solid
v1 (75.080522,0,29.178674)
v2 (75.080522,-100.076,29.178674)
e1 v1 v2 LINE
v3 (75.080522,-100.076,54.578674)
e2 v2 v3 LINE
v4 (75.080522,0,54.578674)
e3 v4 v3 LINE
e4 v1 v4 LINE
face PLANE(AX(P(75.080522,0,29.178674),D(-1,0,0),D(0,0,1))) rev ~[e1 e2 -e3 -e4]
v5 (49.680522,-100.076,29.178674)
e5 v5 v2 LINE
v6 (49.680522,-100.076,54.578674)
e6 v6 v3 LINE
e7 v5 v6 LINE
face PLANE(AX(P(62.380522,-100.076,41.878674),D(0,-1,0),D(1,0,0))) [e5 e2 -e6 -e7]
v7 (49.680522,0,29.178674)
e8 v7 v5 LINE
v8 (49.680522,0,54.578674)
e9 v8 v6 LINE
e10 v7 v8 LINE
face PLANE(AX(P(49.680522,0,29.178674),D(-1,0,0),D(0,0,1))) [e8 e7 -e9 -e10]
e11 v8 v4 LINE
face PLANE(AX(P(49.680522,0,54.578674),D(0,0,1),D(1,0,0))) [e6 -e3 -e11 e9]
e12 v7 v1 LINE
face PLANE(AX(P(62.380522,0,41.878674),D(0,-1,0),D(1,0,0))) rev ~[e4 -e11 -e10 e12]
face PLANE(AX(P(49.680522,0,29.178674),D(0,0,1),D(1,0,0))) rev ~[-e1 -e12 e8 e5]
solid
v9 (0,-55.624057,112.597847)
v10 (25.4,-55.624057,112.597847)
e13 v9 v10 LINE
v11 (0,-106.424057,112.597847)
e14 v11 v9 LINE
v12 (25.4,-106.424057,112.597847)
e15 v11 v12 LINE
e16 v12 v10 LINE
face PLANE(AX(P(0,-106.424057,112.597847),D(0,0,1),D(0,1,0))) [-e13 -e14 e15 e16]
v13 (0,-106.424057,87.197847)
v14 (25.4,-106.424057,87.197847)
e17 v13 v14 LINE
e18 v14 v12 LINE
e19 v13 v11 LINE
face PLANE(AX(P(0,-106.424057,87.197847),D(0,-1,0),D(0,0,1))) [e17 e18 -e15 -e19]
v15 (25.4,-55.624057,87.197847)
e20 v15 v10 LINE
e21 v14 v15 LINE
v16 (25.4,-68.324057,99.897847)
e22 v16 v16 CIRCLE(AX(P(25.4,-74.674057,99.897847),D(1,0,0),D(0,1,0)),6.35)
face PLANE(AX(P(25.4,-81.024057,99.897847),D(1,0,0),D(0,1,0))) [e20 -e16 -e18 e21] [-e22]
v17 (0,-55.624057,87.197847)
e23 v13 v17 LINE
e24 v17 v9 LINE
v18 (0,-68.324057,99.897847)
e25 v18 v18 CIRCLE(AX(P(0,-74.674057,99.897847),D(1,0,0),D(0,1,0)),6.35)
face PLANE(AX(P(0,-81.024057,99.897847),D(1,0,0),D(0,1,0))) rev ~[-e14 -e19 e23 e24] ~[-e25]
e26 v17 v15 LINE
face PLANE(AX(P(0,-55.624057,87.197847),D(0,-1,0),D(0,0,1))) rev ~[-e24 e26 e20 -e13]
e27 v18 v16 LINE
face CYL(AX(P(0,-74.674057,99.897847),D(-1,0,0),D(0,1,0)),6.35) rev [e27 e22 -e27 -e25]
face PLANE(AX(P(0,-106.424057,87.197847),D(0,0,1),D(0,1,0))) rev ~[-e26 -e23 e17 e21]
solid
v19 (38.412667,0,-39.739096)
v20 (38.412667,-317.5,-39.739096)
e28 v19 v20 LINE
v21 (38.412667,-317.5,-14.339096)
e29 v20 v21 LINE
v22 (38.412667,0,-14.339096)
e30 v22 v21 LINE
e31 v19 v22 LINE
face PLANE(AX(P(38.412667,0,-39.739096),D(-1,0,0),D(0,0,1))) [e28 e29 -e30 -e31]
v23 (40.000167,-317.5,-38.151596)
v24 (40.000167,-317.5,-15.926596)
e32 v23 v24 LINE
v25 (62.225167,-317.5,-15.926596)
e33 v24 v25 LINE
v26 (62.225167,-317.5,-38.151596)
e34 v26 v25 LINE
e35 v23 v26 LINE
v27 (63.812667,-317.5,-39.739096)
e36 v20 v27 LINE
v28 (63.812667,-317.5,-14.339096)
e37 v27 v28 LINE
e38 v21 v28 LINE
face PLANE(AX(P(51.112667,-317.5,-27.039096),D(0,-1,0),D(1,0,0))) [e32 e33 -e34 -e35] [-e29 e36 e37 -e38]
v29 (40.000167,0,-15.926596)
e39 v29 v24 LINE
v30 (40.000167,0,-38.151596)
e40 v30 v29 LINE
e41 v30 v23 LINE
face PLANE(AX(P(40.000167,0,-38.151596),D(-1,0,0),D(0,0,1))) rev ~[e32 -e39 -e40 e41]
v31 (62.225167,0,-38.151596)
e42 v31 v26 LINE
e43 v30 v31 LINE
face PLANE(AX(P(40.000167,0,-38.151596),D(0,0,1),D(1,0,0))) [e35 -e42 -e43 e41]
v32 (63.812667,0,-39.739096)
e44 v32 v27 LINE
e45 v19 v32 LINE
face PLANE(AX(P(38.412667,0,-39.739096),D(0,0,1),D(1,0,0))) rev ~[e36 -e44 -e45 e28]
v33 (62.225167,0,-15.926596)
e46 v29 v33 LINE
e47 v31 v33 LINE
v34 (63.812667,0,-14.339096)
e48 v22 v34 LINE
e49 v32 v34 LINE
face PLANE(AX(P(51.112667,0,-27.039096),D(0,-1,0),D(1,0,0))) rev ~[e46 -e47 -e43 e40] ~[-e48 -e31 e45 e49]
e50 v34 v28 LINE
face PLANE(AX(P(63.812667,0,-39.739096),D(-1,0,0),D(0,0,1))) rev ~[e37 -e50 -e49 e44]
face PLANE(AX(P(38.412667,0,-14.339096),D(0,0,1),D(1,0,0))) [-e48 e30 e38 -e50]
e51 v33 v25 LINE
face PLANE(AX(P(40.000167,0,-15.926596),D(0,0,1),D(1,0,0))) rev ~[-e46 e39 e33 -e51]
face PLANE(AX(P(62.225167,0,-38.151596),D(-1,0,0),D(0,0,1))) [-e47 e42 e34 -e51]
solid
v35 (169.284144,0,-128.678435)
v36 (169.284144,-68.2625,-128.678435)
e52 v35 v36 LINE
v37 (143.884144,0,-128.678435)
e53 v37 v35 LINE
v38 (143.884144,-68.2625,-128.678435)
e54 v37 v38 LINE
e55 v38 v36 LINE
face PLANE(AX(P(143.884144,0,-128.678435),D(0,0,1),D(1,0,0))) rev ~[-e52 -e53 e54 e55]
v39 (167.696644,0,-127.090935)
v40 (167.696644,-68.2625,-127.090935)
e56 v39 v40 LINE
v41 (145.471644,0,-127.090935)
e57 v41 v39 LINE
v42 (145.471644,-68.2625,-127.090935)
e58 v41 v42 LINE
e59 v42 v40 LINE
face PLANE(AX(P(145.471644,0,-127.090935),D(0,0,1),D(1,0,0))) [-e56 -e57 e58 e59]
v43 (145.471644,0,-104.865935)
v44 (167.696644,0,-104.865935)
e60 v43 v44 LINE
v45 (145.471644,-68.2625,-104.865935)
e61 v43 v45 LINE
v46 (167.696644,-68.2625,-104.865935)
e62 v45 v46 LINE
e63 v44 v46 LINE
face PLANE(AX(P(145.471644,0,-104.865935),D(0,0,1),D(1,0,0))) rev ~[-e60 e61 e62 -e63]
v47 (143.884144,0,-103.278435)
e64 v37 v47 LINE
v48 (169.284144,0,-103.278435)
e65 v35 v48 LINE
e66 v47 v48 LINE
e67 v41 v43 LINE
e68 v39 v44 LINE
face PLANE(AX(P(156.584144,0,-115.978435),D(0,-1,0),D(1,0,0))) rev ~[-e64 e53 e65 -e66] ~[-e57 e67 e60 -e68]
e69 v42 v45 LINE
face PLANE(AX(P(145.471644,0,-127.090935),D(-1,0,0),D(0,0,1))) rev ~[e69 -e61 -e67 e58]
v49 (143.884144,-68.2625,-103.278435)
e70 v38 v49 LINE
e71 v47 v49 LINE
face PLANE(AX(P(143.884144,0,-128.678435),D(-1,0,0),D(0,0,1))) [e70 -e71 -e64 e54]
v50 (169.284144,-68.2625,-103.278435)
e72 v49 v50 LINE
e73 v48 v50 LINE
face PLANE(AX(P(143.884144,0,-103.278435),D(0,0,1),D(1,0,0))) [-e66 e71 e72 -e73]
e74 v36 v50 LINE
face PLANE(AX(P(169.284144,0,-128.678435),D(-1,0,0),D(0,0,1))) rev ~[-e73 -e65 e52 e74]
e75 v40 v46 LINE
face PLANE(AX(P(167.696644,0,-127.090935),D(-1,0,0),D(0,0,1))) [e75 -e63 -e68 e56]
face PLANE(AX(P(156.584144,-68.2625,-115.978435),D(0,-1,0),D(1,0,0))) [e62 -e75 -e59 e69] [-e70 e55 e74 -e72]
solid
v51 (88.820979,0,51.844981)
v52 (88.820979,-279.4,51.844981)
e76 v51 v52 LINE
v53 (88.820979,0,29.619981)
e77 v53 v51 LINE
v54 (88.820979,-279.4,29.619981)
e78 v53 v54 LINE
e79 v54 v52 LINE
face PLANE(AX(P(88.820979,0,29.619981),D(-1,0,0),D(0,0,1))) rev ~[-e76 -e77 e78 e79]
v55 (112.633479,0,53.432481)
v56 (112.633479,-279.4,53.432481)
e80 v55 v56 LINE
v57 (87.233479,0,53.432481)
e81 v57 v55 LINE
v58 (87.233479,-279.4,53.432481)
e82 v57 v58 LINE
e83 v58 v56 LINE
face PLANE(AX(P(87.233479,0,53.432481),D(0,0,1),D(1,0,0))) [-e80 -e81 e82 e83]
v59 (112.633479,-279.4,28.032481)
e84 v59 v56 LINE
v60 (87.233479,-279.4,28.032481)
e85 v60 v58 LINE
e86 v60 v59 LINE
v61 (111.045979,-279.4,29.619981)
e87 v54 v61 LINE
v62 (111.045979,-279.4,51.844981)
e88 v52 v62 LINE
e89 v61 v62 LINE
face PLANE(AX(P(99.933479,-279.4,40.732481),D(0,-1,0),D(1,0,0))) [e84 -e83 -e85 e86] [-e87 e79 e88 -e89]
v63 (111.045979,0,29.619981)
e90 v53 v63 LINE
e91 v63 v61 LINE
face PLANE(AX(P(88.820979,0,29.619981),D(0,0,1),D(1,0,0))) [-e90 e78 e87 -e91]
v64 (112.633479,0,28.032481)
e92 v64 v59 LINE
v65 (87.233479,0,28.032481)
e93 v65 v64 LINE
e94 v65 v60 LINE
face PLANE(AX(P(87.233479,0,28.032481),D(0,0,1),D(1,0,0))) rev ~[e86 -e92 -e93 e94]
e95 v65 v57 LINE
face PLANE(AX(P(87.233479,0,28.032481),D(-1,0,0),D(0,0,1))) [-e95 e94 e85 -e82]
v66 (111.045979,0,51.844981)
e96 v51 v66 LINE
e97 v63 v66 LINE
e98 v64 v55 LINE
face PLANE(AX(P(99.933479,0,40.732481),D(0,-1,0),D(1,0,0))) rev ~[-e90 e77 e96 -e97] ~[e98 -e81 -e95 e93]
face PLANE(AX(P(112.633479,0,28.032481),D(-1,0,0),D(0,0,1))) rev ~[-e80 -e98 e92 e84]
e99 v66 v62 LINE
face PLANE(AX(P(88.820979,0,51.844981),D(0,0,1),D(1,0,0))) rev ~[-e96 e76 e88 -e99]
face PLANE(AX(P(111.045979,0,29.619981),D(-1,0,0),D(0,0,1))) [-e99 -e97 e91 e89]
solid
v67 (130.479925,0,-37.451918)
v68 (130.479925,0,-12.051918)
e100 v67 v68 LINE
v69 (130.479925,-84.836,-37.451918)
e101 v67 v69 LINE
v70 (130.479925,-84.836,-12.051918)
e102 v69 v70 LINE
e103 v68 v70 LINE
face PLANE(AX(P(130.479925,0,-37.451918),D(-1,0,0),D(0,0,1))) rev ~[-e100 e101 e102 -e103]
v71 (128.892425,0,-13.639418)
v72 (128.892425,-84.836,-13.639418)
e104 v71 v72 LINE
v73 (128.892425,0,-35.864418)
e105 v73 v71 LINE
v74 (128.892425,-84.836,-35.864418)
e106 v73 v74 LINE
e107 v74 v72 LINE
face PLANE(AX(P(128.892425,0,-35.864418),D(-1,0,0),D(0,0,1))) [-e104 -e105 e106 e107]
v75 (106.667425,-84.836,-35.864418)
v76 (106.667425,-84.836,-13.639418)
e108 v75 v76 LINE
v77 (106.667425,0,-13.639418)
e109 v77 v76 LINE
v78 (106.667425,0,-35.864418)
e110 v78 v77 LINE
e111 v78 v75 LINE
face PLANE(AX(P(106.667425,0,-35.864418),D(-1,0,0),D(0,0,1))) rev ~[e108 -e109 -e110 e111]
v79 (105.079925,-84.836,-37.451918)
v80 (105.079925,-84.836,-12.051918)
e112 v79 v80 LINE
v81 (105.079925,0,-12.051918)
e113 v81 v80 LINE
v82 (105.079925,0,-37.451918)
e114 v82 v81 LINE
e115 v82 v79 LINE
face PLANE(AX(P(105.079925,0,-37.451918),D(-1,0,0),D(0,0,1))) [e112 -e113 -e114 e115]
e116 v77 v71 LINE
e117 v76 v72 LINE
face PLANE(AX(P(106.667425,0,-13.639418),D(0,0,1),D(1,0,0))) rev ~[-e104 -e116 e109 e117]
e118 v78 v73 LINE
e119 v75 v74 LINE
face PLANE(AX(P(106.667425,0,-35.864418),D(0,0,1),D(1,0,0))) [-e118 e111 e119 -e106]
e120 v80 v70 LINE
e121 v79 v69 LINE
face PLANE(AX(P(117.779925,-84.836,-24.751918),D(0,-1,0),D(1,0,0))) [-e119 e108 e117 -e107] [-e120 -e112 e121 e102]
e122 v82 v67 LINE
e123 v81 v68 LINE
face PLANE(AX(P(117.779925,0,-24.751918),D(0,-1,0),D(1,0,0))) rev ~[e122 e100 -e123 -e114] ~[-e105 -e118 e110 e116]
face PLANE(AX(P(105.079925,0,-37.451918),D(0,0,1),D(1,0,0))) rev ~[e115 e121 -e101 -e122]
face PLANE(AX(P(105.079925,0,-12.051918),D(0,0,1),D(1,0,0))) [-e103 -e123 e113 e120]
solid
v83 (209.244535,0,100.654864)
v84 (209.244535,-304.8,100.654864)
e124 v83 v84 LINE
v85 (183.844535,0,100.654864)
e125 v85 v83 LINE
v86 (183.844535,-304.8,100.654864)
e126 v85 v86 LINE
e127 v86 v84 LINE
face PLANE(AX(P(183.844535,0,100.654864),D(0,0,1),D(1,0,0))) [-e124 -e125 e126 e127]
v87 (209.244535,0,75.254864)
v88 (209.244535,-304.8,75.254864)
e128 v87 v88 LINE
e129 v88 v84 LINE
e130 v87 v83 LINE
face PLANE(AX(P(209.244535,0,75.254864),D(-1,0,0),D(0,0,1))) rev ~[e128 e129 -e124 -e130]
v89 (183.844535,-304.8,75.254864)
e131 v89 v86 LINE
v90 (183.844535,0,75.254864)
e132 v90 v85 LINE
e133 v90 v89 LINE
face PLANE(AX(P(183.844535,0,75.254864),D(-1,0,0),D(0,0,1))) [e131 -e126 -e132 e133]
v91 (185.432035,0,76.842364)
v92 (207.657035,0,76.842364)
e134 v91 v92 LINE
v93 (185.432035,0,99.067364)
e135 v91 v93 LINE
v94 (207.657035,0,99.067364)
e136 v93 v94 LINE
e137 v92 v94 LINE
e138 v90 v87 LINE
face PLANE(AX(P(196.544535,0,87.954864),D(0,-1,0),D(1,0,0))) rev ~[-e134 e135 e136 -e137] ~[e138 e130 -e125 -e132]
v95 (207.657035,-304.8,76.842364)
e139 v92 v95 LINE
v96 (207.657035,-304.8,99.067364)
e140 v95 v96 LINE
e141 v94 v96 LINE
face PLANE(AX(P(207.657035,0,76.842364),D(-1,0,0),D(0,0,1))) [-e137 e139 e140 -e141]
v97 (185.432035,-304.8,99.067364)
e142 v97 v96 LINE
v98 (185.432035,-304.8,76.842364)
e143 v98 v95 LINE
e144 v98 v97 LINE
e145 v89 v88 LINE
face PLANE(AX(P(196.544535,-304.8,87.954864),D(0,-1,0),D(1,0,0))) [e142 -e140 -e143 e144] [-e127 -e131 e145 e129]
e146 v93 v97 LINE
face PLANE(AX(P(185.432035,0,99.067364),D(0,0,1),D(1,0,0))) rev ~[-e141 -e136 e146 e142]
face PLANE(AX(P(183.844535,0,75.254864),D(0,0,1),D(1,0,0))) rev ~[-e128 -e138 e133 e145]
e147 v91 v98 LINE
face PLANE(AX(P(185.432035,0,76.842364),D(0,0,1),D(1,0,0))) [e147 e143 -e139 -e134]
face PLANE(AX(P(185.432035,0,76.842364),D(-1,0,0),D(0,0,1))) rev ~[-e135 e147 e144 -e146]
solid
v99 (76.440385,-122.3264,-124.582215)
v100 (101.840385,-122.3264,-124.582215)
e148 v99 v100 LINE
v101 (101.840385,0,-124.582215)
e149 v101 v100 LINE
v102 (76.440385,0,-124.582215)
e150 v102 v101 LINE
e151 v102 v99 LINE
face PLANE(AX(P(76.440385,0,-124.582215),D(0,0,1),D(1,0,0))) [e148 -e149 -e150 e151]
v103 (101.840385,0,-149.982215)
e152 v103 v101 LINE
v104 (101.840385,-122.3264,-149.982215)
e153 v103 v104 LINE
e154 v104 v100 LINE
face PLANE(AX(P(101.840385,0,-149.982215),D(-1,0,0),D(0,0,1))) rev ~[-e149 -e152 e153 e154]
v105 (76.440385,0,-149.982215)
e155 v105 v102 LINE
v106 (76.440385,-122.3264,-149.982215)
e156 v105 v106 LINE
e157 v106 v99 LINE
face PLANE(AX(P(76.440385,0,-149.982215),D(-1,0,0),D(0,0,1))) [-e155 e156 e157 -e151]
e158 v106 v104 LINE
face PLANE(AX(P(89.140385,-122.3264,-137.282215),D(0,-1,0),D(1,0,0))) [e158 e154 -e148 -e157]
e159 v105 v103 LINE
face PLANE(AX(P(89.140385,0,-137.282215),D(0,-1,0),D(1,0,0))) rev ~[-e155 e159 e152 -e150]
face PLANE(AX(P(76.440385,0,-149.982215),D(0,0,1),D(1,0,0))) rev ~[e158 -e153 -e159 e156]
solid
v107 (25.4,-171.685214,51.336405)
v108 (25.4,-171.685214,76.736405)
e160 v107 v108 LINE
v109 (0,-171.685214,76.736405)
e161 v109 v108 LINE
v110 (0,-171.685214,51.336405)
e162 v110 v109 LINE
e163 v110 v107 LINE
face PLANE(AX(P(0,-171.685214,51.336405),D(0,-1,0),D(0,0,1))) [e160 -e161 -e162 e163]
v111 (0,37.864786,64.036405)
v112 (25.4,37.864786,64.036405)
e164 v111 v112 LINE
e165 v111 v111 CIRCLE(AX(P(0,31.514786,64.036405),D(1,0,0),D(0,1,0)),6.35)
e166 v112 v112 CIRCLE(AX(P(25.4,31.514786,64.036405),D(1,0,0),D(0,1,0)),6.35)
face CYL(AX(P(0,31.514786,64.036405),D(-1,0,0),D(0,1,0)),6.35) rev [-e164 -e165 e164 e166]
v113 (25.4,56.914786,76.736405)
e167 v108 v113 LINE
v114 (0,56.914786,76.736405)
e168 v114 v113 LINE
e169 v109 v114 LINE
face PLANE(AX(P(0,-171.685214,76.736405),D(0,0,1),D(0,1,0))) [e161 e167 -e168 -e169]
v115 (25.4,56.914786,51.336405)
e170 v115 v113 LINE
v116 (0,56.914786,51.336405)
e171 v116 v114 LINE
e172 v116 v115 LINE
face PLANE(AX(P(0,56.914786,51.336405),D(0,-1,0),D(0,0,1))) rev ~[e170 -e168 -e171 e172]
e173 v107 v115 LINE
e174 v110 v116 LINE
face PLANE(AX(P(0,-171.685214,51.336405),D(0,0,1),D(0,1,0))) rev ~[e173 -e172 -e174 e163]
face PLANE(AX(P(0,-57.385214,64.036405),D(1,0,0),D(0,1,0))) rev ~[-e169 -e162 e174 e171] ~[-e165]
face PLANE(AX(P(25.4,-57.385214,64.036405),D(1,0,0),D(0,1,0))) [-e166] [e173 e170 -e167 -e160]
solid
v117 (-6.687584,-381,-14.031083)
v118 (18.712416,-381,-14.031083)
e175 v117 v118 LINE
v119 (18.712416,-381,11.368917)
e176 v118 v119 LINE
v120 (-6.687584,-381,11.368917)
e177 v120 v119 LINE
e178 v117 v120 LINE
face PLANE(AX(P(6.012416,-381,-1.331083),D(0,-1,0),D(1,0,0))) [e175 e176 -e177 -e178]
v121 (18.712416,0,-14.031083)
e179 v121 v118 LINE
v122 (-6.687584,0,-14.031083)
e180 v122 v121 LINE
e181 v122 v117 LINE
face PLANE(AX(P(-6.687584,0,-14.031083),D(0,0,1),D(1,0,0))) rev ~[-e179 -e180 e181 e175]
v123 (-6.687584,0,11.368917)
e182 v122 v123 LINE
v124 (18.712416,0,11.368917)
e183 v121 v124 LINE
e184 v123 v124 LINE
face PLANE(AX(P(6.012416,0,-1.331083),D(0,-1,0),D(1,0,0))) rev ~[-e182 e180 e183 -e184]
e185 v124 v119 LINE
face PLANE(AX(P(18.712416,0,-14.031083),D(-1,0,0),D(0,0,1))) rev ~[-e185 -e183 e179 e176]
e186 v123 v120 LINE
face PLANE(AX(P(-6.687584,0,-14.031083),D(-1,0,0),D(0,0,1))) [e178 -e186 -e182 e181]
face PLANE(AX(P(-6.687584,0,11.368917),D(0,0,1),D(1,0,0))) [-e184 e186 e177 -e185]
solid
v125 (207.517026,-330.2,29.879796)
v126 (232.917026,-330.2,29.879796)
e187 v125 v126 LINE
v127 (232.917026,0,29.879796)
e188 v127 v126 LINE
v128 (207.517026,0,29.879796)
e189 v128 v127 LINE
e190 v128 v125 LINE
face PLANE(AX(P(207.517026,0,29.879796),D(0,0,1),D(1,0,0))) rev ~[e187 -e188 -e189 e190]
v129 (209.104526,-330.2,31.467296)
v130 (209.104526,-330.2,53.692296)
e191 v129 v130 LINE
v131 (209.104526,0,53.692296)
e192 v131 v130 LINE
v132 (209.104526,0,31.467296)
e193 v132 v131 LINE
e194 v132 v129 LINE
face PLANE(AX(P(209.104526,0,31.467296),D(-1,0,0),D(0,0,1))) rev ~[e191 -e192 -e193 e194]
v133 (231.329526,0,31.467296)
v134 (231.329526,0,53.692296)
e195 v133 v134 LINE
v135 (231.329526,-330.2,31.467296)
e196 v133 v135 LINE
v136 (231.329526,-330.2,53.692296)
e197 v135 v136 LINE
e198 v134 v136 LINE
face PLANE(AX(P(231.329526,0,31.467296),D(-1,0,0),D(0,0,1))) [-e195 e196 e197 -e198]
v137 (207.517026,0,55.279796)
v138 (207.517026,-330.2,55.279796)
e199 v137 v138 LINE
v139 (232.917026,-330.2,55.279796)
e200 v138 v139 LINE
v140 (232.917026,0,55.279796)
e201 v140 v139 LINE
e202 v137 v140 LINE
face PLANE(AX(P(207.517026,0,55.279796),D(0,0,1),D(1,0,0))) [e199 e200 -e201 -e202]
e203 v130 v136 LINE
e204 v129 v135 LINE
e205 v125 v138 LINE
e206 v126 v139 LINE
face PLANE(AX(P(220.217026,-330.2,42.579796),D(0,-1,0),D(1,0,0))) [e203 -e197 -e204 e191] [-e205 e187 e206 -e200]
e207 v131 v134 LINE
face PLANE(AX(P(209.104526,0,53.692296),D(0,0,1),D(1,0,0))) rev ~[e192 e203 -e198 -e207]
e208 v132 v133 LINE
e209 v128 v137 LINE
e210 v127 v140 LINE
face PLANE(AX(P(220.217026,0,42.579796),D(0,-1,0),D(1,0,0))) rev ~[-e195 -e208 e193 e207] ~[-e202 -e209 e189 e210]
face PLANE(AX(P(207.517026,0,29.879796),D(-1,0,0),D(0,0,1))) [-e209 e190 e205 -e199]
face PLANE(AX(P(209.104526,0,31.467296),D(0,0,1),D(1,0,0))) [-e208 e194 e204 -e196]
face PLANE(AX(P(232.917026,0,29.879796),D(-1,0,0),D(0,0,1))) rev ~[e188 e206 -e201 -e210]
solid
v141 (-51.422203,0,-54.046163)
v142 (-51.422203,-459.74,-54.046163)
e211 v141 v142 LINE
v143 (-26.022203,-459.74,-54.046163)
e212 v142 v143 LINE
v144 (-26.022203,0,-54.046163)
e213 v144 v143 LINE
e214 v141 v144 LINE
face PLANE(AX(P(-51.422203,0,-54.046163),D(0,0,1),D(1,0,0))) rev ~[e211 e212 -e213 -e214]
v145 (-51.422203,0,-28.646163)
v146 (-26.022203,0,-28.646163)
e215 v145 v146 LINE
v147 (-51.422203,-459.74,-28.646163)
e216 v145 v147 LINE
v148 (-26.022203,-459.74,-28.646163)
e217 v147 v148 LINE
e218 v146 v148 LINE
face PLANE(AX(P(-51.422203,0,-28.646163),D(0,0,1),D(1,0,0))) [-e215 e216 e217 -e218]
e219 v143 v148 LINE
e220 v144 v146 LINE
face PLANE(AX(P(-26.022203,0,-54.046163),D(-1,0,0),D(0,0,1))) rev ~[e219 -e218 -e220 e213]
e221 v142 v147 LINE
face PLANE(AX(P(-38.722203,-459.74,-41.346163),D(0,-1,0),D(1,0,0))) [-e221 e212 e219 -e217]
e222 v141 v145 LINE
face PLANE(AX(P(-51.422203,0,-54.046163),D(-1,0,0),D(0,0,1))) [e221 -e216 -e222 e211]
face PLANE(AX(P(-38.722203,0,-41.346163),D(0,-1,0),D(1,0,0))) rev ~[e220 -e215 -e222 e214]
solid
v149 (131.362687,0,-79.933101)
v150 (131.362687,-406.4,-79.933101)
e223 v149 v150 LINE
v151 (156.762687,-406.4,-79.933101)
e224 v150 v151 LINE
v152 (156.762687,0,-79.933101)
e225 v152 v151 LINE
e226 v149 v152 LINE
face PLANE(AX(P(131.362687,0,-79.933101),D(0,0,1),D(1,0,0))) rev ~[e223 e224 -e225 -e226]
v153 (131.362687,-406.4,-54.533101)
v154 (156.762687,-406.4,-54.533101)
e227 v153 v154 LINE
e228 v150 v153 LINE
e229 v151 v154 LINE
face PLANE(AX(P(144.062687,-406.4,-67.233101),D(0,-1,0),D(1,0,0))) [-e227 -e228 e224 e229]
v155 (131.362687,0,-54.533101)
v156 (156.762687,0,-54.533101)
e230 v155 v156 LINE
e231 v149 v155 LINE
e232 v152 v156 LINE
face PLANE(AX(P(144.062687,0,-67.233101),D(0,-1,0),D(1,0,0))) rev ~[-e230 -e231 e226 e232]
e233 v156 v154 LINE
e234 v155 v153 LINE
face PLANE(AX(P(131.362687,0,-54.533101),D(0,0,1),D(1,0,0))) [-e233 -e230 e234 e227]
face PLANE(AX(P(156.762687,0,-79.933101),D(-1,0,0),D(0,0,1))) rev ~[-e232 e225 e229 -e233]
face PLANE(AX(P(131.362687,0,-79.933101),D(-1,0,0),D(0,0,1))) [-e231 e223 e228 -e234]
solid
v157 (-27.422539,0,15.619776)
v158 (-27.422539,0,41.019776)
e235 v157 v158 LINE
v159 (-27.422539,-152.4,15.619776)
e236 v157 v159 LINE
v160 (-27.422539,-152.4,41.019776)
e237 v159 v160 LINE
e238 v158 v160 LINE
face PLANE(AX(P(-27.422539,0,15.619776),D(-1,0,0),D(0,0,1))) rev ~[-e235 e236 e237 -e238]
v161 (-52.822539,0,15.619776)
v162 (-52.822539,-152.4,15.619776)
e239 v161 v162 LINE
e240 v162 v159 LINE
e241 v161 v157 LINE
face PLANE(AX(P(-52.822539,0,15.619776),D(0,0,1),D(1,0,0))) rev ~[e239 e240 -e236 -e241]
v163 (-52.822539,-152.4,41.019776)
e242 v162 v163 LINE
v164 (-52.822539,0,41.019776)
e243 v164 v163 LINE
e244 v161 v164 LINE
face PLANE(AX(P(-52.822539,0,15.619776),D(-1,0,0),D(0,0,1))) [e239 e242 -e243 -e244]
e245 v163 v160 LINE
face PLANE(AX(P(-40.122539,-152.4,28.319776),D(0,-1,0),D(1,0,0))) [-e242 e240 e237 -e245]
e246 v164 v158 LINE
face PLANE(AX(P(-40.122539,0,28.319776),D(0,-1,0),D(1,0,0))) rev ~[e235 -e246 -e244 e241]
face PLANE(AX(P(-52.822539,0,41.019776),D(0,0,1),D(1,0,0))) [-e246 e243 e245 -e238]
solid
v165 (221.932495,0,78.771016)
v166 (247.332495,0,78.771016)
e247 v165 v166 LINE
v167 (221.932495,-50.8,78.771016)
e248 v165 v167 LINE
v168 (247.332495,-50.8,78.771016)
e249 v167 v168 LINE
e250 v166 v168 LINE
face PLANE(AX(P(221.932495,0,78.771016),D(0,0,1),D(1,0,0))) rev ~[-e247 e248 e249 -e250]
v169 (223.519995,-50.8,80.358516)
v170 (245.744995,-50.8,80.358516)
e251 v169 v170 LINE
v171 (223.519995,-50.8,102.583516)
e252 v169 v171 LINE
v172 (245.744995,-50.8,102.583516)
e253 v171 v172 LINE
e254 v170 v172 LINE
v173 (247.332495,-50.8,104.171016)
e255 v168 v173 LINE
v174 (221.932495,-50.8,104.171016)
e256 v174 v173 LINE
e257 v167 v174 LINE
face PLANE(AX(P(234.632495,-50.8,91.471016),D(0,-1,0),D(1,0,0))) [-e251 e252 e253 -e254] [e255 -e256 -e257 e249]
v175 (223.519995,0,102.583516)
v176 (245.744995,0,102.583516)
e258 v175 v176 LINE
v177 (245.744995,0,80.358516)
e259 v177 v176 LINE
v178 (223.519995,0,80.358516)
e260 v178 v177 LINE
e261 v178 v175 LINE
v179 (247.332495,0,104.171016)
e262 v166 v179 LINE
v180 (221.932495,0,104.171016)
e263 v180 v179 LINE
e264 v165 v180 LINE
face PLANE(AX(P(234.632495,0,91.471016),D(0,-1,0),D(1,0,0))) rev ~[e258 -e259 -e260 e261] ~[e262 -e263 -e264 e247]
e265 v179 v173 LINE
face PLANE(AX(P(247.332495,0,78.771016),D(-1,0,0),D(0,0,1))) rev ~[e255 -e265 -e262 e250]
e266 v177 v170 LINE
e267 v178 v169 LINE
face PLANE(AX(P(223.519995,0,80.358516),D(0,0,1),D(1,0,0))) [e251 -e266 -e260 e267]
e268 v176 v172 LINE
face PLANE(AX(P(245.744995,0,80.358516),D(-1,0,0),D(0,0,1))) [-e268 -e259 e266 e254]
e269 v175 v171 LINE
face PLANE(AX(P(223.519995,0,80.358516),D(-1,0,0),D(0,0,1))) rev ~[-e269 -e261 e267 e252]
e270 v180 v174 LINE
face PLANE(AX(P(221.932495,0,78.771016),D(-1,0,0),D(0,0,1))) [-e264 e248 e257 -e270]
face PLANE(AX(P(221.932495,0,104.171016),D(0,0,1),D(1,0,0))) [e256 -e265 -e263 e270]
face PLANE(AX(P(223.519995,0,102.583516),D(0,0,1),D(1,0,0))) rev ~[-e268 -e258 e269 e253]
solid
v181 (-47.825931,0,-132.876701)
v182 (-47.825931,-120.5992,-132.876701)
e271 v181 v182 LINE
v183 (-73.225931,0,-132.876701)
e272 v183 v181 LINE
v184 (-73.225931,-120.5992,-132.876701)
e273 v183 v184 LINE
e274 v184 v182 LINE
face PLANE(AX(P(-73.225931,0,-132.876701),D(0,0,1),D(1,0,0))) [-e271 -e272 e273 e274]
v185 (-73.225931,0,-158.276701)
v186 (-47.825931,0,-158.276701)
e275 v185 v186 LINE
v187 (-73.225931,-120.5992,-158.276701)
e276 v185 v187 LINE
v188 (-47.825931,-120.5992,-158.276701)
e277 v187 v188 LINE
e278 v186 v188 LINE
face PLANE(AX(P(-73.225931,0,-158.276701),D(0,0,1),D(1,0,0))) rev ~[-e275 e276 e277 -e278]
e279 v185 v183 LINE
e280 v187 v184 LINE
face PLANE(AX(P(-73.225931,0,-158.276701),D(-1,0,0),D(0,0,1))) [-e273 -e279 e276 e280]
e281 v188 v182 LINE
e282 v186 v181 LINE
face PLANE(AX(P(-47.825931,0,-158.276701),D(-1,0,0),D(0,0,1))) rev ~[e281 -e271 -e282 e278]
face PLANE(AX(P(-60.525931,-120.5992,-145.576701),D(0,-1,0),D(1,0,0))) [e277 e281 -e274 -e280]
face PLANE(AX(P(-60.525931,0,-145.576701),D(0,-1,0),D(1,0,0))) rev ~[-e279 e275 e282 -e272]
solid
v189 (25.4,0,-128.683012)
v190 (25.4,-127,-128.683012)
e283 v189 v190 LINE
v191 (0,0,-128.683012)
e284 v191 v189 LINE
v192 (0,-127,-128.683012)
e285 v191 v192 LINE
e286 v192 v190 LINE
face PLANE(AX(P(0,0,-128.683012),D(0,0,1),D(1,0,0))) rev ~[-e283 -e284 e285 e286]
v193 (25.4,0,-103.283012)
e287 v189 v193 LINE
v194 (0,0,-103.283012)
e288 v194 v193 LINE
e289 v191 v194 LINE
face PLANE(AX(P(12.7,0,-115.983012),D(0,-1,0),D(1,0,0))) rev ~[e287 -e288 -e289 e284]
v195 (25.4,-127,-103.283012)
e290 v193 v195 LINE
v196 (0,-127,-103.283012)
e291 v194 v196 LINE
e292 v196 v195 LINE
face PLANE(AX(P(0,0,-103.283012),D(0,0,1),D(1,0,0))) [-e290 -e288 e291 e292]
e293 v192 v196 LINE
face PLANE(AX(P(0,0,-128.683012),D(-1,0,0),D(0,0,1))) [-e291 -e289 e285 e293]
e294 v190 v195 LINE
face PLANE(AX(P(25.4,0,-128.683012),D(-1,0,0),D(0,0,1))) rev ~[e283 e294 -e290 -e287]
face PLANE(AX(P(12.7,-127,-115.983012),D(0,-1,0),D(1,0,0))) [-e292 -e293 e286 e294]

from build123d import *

# Parameters (mm, degrees)
F0_W      = 25.4
F0_H      = 25.4
F1_DEPTH  = 381
F2_W      = 25.4
F2_H      = 25.4
F2_W_2    = 22.225
F2_H_2    = 22.225
F3_DEPTH  = 317.5
F4_W      = 25.4
F4_H      = 25.4
F5_DEPTH  = 152.4
F6_W      = 228.6
F6_H      = 25.4
F6_R      = 6.35
F7_DEPTH  = 25.4
F8_W      = 50.8
F8_H      = 25.4
F8_R      = 6.35
F9_DEPTH  = 25.4
F10_W     = 25.4
F10_H     = 25.4
F11_DEPTH = 459.74
F12_W     = 25.4
F12_H     = 25.4
F13_DEPTH = 100.076
F14_W     = 25.4
F14_H     = 25.4
F15_DEPTH = 122.3264
F16_W     = 25.4
F16_H     = 25.4
F17_DEPTH = 120.5992
F18_W     = 25.4
F18_H     = 25.4
F19_DEPTH = 127
F20_W     = 25.4
F20_H     = 25.4
F21_DEPTH = 406.4
F22_W     = 25.4
F22_H     = 25.4
F22_W_2   = 22.225
F22_H_2   = 22.225
F23_DEPTH = 279.4
F24_W     = 25.4
F24_H     = 25.4
F24_W_2   = 22.225
F24_H_2   = 22.225
F25_DEPTH = 304.8
F26_W     = 25.4
F26_H     = 25.4
F26_W_2   = 22.225
F26_H_2   = 22.225
F27_DEPTH = 50.8
F28_W     = 25.4
F28_H     = 25.4
F28_W_2   = 22.225
F28_H_2   = 22.225
F29_DEPTH = 330.2
F30_W     = 25.4
F30_H     = 25.4
F30_W_2   = 22.225
F30_H_2   = 22.225
F31_DEPTH = 84.836
F32_W     = 25.4
F32_H     = 25.4
F32_W_2   = 22.225
F32_H_2   = 22.225
F33_DEPTH = 68.2625


with BuildPart() as f1:
    # F0 (on Front) → F1 (new body)
    with BuildSketch(Plane.XZ):
        with Locations((6.012416, -1.331083)):
            Rectangle(F0_W, F0_H)
    extrude(amount=F1_DEPTH)


with BuildPart() as f3:
    # F2 (on Front) → F3 (new body)
    with BuildSketch(Plane.XZ):
        with Locations((51.112667, -27.039096)):
            Rectangle(F2_W, F2_H)
        with Locations((51.112667, -27.039096)):
            Rectangle(F2_W_2, F2_H_2, mode=Mode.SUBTRACT)
    extrude(amount=F3_DEPTH)


with BuildPart() as f5:
    # F4 (on Front) → F5 (new body)
    with BuildSketch(Plane.XZ):
        with Locations((-40.122539, 28.319776)):
            Rectangle(F4_W, F4_H)
    extrude(amount=F5_DEPTH)


with BuildPart() as f7:
    # F6 (on Right) → F7 (new body)
    with BuildSketch(Plane.YZ):
        with Locations((-57.385214, 64.036405)):
            Rectangle(F6_W, F6_H)
        with Locations((31.514786, 64.036405)):
            Circle(F6_R, mode=Mode.SUBTRACT)
    extrude(amount=F7_DEPTH)


with BuildPart() as f9:
    # F8 (on Right) → F9 (new body)
    with BuildSketch(Plane.YZ):
        with Locations((-81.024057, 99.897847)):
            Rectangle(F8_W, F8_H)
        with Locations((-74.674057, 99.897847)):
            Circle(F8_R, mode=Mode.SUBTRACT)
    extrude(amount=F9_DEPTH)


with BuildPart() as f11:
    # F10 (on Front) → F11 (new body)
    with BuildSketch(Plane.XZ):
        with Locations((-38.722203, -41.346163)):
            Rectangle(F10_W, F10_H)
    extrude(amount=F11_DEPTH)


with BuildPart() as f13:
    # F12 (on Front) → F13 (new body)
    with BuildSketch(Plane.XZ):
        with Locations((62.380522, 41.878674)):
            Rectangle(F12_W, F12_H)
    extrude(amount=F13_DEPTH)


with BuildPart() as f15:
    # F14 (on Front) → F15 (new body)
    with BuildSketch(Plane.XZ):
        with Locations((89.140385, -137.282215)):
            Rectangle(F14_W, F14_H)
    extrude(amount=F15_DEPTH)


with BuildPart() as f17:
    # F16 (on Front) → F17 (new body)
    with BuildSketch(Plane.XZ):
        with Locations((-60.525931, -145.576701)):
            Rectangle(F16_W, F16_H)
    extrude(amount=F17_DEPTH)


with BuildPart() as f19:
    # F18 (on Front) → F19 (new body)
    with BuildSketch(Plane.XZ):
        with Locations((12.7, -115.983012)):
            Rectangle(F18_W, F18_H)
    extrude(amount=F19_DEPTH)


with BuildPart() as f21:
    # F20 (on Front) → F21 (new body)
    with BuildSketch(Plane.XZ):
        with Locations((144.062687, -67.233101)):
            Rectangle(F20_W, F20_H)
    extrude(amount=F21_DEPTH)


with BuildPart() as f23:
    # F22 (on Front) → F23 (new body)
    with BuildSketch(Plane.XZ):
        with Locations((99.933479, 40.732481)):
            Rectangle(F22_W, F22_H)
        with Locations((99.933479, 40.732481)):
            Rectangle(F22_W_2, F22_H_2, mode=Mode.SUBTRACT)
    extrude(amount=F23_DEPTH)


with BuildPart() as f25:
    # F24 (on Front) → F25 (new body)
    with BuildSketch(Plane.XZ):
        with Locations((196.544535, 87.954864)):
            Rectangle(F24_W, F24_H)
        with Locations((196.544535, 87.954864)):
            Rectangle(F24_W_2, F24_H_2, mode=Mode.SUBTRACT)
    extrude(amount=F25_DEPTH)


with BuildPart() as f27:
    # F26 (on Front) → F27 (new body)
    with BuildSketch(Plane.XZ):
        with Locations((234.632495, 91.471016)):
            Rectangle(F26_W, F26_H)
        with Locations((234.632495, 91.471016)):
            Rectangle(F26_W_2, F26_H_2, mode=Mode.SUBTRACT)
    extrude(amount=F27_DEPTH)


with BuildPart() as f29:
    # F28 (on Front) → F29 (new body)
    with BuildSketch(Plane.XZ):
        with Locations((220.217026, 42.579796)):
            Rectangle(F28_W, F28_H)
        with Locations((220.217026, 42.579796)):
            Rectangle(F28_W_2, F28_H_2, mode=Mode.SUBTRACT)
    extrude(amount=F29_DEPTH)


with BuildPart() as f31:
    # F30 (on Front) → F31 (new body)
    with BuildSketch(Plane.XZ):
        with Locations((117.779925, -24.751918)):
            Rectangle(F30_W, F30_H)
        with Locations((117.779925, -24.751918)):
            Rectangle(F30_W_2, F30_H_2, mode=Mode.SUBTRACT)
    extrude(amount=F31_DEPTH)


with BuildPart() as f33:
    # F32 (on Front) → F33 (new body)
    with BuildSketch(Plane.XZ):
        with Locations((156.584144, -115.978435)):
            Rectangle(F32_W, F32_H)
        with Locations((156.584144, -115.978435)):
            Rectangle(F32_W_2, F32_H_2, mode=Mode.SUBTRACT)
    extrude(amount=F33_DEPTH)


solid = Compound([f1.part, f3.part, f5.part, f7.part, f9.part, f11.part, f13.part, f15.part, f17.part, f19.part, f21.part, f23.part, f25.part, f27.part, f29.part, f31.part, f33.part])
